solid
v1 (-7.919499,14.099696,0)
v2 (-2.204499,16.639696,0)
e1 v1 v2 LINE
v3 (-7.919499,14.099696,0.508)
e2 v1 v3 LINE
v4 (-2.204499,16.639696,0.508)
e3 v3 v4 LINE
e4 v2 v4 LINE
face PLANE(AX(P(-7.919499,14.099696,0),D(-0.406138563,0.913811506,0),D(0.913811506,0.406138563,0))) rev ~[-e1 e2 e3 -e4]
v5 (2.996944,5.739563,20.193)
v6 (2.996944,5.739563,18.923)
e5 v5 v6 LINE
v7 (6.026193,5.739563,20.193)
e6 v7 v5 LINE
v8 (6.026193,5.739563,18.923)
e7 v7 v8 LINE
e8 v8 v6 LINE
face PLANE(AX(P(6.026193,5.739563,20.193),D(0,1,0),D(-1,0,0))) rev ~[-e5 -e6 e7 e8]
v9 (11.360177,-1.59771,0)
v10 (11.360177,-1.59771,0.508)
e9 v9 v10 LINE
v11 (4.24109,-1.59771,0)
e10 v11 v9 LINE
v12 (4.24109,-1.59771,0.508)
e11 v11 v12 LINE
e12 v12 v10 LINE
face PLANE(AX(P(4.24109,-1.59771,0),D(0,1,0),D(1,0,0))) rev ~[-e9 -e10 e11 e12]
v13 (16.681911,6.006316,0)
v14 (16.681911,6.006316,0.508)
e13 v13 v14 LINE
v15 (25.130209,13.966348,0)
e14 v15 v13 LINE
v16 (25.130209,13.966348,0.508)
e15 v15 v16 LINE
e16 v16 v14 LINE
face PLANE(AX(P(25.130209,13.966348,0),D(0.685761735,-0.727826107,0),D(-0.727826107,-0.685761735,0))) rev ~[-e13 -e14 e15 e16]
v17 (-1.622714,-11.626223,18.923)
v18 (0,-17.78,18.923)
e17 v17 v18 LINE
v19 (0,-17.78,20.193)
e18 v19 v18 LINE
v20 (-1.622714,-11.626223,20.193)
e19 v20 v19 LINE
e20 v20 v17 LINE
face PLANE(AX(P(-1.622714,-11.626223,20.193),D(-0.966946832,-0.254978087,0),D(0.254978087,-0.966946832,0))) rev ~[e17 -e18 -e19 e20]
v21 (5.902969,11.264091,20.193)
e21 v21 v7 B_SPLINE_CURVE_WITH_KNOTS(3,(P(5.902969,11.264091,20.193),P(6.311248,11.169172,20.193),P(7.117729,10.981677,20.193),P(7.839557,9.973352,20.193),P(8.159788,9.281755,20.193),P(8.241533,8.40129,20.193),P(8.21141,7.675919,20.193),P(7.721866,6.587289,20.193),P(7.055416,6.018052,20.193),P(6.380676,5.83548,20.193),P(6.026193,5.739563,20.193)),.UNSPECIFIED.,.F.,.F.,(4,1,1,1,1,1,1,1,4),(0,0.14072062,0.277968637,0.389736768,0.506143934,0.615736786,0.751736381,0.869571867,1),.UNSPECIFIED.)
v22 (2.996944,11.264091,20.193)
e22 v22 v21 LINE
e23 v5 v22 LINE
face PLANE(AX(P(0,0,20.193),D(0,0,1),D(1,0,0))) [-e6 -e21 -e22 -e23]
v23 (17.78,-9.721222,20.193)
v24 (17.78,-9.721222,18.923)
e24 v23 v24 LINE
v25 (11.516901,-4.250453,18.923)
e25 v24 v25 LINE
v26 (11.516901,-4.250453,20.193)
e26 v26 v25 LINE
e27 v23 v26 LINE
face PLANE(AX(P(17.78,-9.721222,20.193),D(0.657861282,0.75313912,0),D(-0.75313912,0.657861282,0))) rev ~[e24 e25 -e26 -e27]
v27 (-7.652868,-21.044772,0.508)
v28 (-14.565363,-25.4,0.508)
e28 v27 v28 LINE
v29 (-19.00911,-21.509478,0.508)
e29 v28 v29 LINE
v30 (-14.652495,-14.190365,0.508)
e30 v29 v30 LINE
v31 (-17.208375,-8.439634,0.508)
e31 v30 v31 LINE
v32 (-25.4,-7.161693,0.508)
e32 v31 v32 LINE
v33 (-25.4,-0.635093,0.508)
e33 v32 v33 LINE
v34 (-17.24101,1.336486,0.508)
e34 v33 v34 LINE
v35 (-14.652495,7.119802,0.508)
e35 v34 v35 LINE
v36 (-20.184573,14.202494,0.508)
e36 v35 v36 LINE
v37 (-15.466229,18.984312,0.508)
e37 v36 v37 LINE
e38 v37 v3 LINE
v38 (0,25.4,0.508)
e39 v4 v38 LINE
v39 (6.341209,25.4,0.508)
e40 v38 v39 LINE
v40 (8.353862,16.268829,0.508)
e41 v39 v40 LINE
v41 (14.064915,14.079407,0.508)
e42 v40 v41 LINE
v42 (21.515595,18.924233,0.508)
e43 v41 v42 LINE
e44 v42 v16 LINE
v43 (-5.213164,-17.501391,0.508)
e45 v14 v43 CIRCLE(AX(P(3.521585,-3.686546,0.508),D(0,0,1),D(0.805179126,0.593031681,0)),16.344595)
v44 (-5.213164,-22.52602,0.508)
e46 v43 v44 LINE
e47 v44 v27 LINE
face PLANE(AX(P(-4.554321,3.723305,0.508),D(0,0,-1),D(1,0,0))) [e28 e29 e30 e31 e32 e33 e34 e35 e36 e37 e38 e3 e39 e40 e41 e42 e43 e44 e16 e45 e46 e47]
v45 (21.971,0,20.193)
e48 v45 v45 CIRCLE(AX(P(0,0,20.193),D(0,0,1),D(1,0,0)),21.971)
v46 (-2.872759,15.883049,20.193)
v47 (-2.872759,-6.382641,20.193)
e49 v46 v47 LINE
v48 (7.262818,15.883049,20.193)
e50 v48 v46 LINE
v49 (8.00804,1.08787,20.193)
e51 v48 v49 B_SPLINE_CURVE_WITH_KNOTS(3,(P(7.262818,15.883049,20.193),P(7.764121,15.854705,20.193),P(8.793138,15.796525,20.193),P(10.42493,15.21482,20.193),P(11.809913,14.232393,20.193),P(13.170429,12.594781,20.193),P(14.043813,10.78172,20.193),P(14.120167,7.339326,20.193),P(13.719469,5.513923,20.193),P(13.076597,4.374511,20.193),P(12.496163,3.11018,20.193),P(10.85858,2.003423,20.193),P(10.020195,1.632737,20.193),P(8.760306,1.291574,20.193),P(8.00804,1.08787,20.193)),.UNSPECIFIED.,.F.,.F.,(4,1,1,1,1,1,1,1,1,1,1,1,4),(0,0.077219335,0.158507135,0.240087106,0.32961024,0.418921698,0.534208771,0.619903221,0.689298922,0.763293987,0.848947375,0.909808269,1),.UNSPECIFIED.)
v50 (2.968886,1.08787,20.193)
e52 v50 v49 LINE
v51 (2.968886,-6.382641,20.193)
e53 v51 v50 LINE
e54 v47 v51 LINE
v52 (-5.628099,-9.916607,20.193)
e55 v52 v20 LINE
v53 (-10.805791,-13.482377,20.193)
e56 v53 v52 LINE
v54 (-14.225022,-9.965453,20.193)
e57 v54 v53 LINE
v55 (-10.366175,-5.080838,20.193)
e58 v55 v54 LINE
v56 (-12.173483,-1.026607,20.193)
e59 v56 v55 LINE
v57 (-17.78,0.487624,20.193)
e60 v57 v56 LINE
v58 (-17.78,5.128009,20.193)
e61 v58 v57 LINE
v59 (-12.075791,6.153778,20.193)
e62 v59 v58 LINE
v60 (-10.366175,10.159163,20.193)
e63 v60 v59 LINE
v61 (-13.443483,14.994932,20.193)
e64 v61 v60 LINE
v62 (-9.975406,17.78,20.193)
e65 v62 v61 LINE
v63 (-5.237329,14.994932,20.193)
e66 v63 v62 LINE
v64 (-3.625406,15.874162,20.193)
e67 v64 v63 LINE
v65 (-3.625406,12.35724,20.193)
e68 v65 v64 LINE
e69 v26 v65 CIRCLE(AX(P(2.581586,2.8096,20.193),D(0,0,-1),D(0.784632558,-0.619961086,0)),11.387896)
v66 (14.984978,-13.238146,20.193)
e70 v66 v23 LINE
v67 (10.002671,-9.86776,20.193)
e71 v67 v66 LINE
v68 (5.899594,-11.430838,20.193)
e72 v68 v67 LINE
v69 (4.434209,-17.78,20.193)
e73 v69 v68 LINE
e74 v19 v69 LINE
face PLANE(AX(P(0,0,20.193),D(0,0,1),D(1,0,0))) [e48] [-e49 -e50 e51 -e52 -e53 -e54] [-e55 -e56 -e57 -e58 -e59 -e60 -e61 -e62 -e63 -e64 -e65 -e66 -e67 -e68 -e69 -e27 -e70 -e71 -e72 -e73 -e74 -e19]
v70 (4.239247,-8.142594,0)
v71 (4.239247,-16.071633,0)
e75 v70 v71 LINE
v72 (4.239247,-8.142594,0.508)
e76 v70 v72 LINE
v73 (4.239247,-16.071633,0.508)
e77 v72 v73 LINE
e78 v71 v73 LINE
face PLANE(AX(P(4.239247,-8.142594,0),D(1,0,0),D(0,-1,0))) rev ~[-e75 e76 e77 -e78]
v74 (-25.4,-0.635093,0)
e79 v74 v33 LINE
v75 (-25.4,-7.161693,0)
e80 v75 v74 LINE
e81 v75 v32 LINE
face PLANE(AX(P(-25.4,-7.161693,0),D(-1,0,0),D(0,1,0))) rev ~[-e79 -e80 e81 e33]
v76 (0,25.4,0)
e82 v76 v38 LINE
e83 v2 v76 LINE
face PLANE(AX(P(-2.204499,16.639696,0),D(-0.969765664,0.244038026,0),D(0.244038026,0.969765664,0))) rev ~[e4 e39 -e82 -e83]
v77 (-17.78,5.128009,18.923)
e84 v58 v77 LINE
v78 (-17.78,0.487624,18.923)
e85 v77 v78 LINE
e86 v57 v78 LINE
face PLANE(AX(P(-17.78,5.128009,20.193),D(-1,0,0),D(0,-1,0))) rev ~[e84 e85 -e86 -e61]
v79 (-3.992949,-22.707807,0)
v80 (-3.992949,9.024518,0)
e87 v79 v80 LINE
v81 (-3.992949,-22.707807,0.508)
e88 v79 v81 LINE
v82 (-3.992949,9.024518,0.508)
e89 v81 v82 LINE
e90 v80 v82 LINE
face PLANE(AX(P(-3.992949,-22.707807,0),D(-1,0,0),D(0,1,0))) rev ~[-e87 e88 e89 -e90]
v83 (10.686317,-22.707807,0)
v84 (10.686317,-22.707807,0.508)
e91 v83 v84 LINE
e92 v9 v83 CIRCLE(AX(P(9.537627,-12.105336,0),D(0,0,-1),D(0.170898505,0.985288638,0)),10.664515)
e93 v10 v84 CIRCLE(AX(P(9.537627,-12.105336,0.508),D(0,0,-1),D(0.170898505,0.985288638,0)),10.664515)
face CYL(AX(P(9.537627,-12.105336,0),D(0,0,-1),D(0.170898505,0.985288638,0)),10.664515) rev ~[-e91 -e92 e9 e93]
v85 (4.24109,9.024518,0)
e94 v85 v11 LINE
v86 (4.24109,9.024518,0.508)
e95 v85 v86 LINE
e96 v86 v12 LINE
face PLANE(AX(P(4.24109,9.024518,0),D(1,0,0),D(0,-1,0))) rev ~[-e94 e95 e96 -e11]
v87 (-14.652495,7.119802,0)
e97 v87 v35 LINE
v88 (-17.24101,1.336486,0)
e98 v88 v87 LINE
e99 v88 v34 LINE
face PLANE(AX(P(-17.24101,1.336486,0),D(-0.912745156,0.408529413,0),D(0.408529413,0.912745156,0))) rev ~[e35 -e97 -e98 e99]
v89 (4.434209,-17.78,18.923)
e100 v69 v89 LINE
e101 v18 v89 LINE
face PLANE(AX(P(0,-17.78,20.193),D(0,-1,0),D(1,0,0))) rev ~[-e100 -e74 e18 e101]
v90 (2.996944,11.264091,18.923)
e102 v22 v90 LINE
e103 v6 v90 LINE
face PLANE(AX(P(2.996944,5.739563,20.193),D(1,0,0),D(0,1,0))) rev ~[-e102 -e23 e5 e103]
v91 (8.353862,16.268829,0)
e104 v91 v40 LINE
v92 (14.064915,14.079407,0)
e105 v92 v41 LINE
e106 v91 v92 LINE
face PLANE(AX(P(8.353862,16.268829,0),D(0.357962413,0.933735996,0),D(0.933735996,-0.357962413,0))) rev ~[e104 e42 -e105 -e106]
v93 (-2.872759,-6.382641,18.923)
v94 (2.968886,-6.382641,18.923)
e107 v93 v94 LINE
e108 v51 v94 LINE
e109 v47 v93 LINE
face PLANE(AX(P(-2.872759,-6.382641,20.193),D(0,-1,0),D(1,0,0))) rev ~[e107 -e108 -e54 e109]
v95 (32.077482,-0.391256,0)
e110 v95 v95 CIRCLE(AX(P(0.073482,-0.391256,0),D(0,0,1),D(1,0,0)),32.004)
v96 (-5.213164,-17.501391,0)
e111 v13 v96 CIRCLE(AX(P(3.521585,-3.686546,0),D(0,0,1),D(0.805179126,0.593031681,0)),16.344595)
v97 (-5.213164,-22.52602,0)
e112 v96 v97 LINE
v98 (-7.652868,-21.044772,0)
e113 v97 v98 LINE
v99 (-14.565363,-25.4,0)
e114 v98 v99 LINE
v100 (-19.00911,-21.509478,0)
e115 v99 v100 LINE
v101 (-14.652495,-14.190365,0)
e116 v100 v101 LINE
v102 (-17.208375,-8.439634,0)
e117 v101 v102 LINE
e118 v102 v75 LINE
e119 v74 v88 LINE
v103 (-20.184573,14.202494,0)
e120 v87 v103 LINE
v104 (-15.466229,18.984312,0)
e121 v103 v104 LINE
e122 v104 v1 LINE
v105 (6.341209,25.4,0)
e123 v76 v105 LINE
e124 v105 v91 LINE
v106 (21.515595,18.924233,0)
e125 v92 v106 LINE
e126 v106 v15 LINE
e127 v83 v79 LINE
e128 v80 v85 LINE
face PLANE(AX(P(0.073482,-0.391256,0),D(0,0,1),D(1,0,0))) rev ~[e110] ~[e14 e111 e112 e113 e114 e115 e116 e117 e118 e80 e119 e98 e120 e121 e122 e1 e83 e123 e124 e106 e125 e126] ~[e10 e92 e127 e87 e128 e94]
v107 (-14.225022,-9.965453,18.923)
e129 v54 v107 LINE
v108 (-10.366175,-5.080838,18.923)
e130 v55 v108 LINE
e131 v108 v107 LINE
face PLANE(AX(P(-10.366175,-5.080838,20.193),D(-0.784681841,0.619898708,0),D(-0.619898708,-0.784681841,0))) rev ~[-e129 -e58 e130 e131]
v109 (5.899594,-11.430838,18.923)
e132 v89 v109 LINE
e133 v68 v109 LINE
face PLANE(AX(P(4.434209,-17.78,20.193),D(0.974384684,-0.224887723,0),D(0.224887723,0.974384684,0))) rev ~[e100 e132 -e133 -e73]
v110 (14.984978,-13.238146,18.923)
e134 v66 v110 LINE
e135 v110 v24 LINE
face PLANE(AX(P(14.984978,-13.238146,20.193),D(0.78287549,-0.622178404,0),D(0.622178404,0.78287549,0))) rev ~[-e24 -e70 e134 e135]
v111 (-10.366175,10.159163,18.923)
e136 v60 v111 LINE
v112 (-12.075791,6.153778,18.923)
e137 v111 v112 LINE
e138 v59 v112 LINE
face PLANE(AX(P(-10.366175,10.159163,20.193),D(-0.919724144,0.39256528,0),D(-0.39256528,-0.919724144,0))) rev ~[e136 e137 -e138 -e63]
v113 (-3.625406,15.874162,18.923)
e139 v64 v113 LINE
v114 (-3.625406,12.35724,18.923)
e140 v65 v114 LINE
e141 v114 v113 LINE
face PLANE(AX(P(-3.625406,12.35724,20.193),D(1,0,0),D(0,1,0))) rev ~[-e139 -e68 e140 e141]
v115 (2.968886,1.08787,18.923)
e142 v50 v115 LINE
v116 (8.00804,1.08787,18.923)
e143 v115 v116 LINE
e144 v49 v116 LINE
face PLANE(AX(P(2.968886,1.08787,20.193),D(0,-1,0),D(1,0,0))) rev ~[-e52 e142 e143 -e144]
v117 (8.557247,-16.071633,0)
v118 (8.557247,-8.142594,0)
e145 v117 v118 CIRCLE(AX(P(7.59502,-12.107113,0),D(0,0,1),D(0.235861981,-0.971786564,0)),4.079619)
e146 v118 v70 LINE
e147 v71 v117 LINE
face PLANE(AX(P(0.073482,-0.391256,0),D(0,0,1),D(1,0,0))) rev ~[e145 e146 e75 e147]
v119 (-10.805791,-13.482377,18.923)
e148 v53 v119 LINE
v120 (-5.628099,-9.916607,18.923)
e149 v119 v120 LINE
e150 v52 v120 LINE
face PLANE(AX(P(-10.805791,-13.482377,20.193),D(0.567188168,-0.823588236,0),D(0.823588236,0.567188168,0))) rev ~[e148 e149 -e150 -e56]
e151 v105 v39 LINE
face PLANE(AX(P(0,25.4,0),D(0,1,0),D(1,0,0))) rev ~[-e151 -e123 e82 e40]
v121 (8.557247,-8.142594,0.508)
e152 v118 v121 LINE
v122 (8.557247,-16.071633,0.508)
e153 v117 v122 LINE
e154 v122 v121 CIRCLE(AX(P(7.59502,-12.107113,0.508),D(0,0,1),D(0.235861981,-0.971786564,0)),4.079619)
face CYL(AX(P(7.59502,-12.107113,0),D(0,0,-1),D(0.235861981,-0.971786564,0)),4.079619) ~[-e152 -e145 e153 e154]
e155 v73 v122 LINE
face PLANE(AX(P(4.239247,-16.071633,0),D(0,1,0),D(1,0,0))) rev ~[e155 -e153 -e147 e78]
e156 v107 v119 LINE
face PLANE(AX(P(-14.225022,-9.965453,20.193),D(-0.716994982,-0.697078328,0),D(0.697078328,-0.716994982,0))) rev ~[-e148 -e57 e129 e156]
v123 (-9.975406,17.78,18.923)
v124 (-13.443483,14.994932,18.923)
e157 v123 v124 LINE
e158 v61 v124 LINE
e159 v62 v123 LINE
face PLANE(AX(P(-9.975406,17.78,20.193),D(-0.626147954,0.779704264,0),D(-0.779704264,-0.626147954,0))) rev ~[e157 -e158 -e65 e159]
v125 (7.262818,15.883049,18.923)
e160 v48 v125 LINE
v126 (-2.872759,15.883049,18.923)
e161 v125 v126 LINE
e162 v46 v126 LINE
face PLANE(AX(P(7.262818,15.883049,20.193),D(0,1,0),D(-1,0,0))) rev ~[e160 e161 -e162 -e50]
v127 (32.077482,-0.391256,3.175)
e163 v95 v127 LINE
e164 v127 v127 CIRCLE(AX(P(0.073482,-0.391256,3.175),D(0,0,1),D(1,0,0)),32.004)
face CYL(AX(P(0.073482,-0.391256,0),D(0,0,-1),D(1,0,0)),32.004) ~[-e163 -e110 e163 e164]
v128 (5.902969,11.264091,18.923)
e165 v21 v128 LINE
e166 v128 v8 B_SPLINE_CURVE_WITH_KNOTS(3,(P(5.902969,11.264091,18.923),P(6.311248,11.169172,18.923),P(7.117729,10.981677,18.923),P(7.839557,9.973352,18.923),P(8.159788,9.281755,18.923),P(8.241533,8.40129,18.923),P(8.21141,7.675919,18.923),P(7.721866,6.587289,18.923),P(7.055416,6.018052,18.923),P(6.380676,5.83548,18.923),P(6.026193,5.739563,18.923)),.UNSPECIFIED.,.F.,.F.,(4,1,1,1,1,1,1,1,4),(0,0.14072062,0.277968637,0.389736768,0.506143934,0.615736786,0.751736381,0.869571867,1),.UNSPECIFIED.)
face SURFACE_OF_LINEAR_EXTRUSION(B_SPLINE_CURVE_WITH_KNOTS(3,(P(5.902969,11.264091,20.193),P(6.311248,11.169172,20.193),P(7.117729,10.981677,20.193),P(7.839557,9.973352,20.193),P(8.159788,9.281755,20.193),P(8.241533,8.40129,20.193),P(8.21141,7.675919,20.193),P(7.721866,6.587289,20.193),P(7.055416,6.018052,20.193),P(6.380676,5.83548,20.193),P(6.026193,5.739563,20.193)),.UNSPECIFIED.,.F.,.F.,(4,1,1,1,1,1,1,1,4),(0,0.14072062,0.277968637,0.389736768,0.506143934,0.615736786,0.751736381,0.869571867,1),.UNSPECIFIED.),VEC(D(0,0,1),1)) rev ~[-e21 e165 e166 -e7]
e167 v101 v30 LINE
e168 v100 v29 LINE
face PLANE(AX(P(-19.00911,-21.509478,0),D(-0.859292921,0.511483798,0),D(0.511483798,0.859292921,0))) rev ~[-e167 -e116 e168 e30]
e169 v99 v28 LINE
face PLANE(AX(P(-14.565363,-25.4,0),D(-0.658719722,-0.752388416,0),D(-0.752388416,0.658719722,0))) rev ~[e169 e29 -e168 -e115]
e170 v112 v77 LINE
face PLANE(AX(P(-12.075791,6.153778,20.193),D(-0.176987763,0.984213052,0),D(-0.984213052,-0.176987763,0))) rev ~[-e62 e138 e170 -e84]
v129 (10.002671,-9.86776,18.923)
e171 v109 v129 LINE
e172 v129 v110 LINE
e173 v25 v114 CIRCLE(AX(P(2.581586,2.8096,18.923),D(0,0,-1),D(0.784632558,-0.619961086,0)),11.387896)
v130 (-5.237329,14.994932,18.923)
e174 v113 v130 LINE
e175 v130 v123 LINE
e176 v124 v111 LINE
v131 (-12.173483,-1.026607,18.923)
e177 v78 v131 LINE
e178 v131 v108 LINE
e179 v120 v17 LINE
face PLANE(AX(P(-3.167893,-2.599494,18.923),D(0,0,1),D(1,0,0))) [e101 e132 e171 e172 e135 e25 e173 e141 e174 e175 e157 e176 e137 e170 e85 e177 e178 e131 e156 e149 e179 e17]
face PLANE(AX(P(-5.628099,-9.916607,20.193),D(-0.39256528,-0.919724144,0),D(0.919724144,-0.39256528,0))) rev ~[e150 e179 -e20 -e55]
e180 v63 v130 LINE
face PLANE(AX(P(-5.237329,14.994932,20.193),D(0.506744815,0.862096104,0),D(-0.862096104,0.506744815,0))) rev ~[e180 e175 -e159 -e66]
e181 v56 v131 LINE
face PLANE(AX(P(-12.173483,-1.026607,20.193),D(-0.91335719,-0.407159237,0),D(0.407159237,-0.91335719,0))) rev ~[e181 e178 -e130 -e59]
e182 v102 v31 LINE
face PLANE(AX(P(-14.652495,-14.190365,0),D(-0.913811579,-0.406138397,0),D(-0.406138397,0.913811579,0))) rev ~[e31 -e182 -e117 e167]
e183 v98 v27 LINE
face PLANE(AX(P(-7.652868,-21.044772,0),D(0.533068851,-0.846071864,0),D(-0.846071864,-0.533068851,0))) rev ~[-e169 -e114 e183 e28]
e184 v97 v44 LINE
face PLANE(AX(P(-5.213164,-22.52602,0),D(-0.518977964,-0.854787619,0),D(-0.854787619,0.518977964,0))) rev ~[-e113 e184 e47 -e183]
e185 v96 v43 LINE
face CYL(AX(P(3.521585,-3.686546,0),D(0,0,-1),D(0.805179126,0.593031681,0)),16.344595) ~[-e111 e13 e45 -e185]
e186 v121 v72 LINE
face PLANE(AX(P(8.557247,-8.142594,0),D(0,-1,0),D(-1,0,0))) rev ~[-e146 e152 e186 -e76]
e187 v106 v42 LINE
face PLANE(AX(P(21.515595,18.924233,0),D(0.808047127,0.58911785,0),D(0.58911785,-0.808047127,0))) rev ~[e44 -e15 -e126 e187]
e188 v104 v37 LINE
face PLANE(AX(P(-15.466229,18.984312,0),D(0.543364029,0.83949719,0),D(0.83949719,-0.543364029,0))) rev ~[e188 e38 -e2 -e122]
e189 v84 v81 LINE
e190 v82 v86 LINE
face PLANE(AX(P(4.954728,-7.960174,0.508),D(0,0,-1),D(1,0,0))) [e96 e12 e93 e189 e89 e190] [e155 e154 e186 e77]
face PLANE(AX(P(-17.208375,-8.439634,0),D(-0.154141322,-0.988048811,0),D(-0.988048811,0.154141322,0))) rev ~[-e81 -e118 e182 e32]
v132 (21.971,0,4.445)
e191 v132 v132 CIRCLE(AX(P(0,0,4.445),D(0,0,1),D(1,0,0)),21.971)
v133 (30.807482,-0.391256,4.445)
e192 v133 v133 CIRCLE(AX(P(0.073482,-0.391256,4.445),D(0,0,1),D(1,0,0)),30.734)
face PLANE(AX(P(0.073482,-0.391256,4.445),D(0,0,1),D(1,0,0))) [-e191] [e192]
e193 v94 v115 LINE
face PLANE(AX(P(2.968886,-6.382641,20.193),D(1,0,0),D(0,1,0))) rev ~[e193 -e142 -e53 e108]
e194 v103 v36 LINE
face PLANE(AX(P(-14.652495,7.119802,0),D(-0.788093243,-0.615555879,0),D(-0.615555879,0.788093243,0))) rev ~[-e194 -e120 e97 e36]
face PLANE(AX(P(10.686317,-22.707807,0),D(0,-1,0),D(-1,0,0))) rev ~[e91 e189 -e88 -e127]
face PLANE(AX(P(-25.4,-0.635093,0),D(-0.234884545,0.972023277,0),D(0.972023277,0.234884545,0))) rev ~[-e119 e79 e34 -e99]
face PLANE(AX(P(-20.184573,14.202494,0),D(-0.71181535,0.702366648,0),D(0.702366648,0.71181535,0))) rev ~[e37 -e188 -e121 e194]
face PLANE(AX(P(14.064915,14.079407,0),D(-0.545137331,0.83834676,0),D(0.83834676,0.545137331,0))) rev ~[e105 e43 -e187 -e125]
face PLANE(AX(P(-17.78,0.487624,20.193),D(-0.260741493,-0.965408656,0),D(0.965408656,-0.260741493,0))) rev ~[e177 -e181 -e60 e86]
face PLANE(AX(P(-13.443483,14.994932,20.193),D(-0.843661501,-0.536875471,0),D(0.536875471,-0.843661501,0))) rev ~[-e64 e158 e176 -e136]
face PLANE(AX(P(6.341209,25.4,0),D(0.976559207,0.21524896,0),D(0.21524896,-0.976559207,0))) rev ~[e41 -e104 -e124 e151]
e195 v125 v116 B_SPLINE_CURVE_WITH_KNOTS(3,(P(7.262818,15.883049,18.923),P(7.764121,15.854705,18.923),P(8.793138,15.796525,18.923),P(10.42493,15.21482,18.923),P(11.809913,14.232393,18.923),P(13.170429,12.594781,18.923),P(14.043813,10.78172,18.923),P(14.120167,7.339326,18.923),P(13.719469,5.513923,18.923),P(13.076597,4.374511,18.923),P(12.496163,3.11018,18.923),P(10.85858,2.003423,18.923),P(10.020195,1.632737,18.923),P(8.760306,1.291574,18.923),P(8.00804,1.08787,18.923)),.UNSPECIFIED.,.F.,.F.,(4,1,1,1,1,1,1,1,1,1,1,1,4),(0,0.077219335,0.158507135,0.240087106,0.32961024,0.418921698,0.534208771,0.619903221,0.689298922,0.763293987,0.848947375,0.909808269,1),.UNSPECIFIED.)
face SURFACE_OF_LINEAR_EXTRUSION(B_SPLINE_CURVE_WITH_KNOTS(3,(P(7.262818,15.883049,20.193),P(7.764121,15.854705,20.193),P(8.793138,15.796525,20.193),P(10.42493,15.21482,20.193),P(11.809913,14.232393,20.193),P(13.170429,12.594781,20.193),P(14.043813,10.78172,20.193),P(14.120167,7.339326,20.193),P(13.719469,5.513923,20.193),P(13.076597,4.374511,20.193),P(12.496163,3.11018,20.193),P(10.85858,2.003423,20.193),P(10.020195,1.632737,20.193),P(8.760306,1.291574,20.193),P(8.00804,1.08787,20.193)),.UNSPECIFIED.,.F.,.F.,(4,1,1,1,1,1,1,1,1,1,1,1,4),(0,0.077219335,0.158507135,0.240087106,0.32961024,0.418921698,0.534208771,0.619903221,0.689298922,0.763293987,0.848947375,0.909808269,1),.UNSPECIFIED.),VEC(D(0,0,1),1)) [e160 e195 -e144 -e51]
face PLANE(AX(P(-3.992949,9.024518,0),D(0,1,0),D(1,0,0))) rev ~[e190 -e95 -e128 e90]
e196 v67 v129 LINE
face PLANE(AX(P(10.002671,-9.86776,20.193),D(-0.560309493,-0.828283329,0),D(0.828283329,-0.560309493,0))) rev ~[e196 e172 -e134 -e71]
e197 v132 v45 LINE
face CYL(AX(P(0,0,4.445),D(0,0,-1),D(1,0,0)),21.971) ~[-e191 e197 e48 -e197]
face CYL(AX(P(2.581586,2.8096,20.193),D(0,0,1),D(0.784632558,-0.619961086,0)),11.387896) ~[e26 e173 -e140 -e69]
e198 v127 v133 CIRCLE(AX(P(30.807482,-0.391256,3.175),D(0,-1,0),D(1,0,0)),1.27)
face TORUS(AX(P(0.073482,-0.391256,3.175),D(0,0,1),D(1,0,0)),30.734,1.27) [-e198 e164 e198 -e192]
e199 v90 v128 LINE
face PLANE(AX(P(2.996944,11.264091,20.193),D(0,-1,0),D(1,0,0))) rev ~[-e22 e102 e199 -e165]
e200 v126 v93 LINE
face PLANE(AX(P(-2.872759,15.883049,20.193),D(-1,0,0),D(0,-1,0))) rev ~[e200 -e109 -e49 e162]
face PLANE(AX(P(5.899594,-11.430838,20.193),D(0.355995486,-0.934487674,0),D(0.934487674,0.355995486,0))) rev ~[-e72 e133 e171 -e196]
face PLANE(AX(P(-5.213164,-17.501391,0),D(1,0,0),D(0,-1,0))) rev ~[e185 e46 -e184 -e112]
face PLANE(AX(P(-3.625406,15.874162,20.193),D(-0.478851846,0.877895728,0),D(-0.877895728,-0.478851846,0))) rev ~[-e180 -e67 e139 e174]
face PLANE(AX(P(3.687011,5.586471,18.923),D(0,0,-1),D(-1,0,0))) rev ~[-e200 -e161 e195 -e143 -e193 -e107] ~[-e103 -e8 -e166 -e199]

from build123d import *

# Parameters (mm, degrees)
F0_R     = 32.004
F1_DEPTH = 4.445
F2_R     = 21.971
F3_DEPTH = 15.748
F4_R     = 1.27
F6_DEPTH = 1.27
F8_DEPTH = 0.508


with BuildPart() as f1:
    # F0 (on Top) → F1 (new body)
    with BuildSketch(Plane.XY):
        with Locations((0.0734815403, -0.3912560351)):
            Circle(F0_R)
    extrude(amount=F1_DEPTH)

    # F2 (on face) → F3 (join)
    with BuildSketch(Plane.XY.offset(4.445)):
        Circle(F2_R)
    extrude(amount=F3_DEPTH)

    # F4
    f4_edges = [f1.edges().sort_by_distance(p)[0] for p in [
        (-31.930518, -0.391256, 4.445),
    ]]
    fillet(f4_edges, radius=F4_R)

    # F5 (on face) → F6 (cut)
    with BuildSketch(Plane.XY.offset(20.193)):
        with BuildLine():
            ThreePointArc((11.5169007331, -4.2504528537), (-5.8335664103, -4.8630391768), (-3.625406418, 12.3572396114))
            Line((-3.625406418, 12.3572396114), (-3.625406418, 15.8741623163))
            Line((-3.625406418, 15.8741623163), (-5.2373292856, 14.9949323386))
            Line((-5.2373292856, 14.9949323386), (-9.9754063413, 17.78))
            Line((-9.9754063413, 17.78), (-13.4434830397, 14.9949323386))
            Line((-13.4434830397, 14.9949323386), (-10.3661753237, 10.1591628045))
            Line((-10.3661753237, 10.1591628045), (-12.0757911354, 6.153778173))
            Line((-12.0757911354, 6.153778173), (-17.78, 5.1280092448))
            Line((-17.78, 5.1280092448), (-17.78, 0.4876240855))
            Line((-17.78, 0.4876240855), (-12.1734831482, -1.0266067693))
            Line((-12.1734831482, -1.0266067693), (-10.3661753237, -5.0808377564))
            Line((-10.3661753237, -5.0808377564), (-14.225021936, -9.9654532969))
            Line((-14.225021936, -9.9654532969), (-10.8057912439, -13.4823769331))
            Line((-10.8057912439, -13.4823769331), (-5.6280987337, -9.9166072905))
            Line((-5.6280987337, -9.9166072905), (-1.6227141023, -11.6262231022))
            Line((-1.6227141023, -11.6262231022), (0, -17.78))
            Line((0, -17.78), (4.4342088513, -17.78))
            Line((4.4342088513, -17.78), (5.8995936997, -11.4308381453))
            Line((5.8995936997, -11.4308381453), (10.0026708096, -9.8677603528))
            Line((10.0026708096, -9.8677603528), (14.9849783629, -13.2381459698))
            Line((14.9849783629, -13.2381459698), (17.78, -9.7212223336))
            Line((17.78, -9.7212223336), (11.5169007331, -4.2504528537))
        make_face()
        with BuildLine():
            add(Edge.make_bspline(
                [(7.2628180496, 15.8830489963), (7.764120513, 15.8547054313), (8.7931376229, 15.7965249604), (10.4249300167, 15.2148196487), (11.8099126054, 14.2323930058), (13.1704291206, 12.5947806565), (14.0438131033, 10.7817202185), (14.1201673867, 7.3393260802), (13.7194691328, 5.5139226252), (13.0765966002, 4.3745110609), (12.4961633849, 3.1101795931), (10.8585799754, 2.0034232369), (10.0201954446, 1.6327368317), (8.7603057074, 1.291574238), (8.0080404878, 1.0878700996)],
                knots=[0, 0, 0, 0, 0.0772193353, 0.1585071351, 0.2400871058, 0.3296102404, 0.4189216979, 0.5342087706, 0.6199032215, 0.6892989221, 0.7632939871, 0.8489473746, 0.9098082689, 1, 1, 1, 1], degree=3))
            Line((7.2628180496, 15.8830489963), (-2.8727587778, 15.8830489963))
            Line((-2.8727587778, 15.8830489963), (-2.8727587778, -6.3826409169))
            Line((-2.8727587778, -6.3826409169), (2.9688859358, -6.3826409169))
            Line((2.9688859358, -6.3826409169), (2.9688859358, 1.0878700996))
            Line((2.9688859358, 1.0878700996), (8.0080404878, 1.0878700996))
        make_face()
        with BuildLine():
            Line((2.9969443567, 11.2640913576), (5.9029692784, 11.2640913576))
            add(Edge.make_bspline(
                [(5.9029692784, 11.2640913576), (6.311247704, 11.169172309), (7.117729351, 10.9816765566), (7.8395571972, 9.97335199), (8.1597875123, 9.2817549766), (8.2415328063, 8.4012900963), (8.2114096294, 7.6759192789), (7.7218664719, 6.5872887351), (7.0554159923, 6.0180518678), (6.3806756136, 5.8354795836), (6.0261930339, 5.7395631447)],
                knots=[0, 0, 0, 0, 0.14072062, 0.2779686368, 0.3897367685, 0.5061439342, 0.6157367861, 0.751736381, 0.8695718667, 1, 1, 1, 1], degree=3))
            Line((6.0261930339, 5.7395631447), (2.9969443567, 5.7395631447))
            Line((2.9969443567, 5.7395631447), (2.9969443567, 11.2640913576))
        make_face(mode=Mode.SUBTRACT)
    extrude(amount=-F6_DEPTH, mode=Mode.SUBTRACT)

    # F7 (on face) → F8 (cut)
    with BuildSketch(Plane(origin=(0, 0, 0), x_dir=(1, 0, 0), z_dir=(0, 0, -1))):
        with BuildLine():
            ThreePointArc((11.3601768389, 1.597710303), (20.1967129552, 12.4455869556), (10.6863165274, 22.7078069001))
            Line((10.6863165274, 22.7078069001), (-3.9929486811, 22.7078069001))
            Line((-3.9929486811, 22.7078069001), (-3.9929486811, -9.0245176107))
            Line((-3.9929486811, -9.0245176107), (4.2410902679, -9.0245176107))
            Line((4.2410902679, -9.0245176107), (4.2410902679, 1.597710303))
            Line((4.2410902679, 1.597710303), (11.3601768389, 1.597710303))
        make_face()
        with BuildLine():
            Line((4.2392467149, 16.0716325045), (8.5572467149, 16.0716325045))
            ThreePointArc((8.5572467149, 16.0716325045), (11.67463885, 12.1071133763), (8.5572467149, 8.1425942481))
            Line((8.5572467149, 8.1425942481), (4.2392467149, 8.1425942481))
            Line((4.2392467149, 8.1425942481), (4.2392467149, 16.0716325045))
        make_face(mode=Mode.SUBTRACT)
        with BuildLine():
            ThreePointArc((16.6819114238, -6.0063162819), (-8.4387461135, -7.4533040262), (-5.2131637931, 17.5013914704))
            Line((-5.2131637931, 17.5013914704), (-5.2131637931, 22.5260201842))
            Line((-5.2131637931, 22.5260201842), (-7.6528675854, 21.0447721183))
            Line((-7.6528675854, 21.0447721183), (-14.565362595, 25.4))
            Line((-14.565362595, 25.4), (-19.0091095865, 21.5094778687))
            Line((-19.0091095865, 21.5094778687), (-14.6524952725, 14.190364629))
            Line((-14.6524952725, 14.190364629), (-17.2083750367, 8.4396339953))
            Line((-17.2083750367, 8.4396339953), (-25.4, 7.1616931818))
            Line((-25.4, 7.1616931818), (-25.4, 0.6350930198))
            Line((-25.4, 0.6350930198), (-17.2410104424, -1.336485846))
            Line((-17.2410104424, -1.336485846), (-14.6524952725, -7.1198018268))
            Line((-14.6524952725, -7.1198018268), (-20.1845727861, -14.2024941742))
            Line((-20.1845727861, -14.2024941742), (-15.4662290588, -18.9843121916))
            Line((-15.4662290588, -18.9843121916), (-7.9194987193, -14.0996957198))
            Line((-7.9194987193, -14.0996957198), (-2.2044987418, -16.6396964341))
            Line((-2.2044987418, -16.6396964341), (0, -25.4))
            Line((0, -25.4), (6.3412087038, -25.4))
            Line((6.3412087038, -25.4), (8.3538619801, -16.2688288838))
            Line((8.3538619801, -16.2688288838), (14.0649145469, -14.0794068575))
            Line((14.0649145469, -14.0794068575), (21.5155947953, -18.9242325723))
            Line((21.5155947953, -18.9242325723), (25.1302085817, -13.9663480222))
            Line((25.1302085817, -13.9663480222), (16.6819114238, -6.0063162819))
        make_face()
    extrude(amount=-F8_DEPTH, mode=Mode.SUBTRACT)


solid = f1.part
